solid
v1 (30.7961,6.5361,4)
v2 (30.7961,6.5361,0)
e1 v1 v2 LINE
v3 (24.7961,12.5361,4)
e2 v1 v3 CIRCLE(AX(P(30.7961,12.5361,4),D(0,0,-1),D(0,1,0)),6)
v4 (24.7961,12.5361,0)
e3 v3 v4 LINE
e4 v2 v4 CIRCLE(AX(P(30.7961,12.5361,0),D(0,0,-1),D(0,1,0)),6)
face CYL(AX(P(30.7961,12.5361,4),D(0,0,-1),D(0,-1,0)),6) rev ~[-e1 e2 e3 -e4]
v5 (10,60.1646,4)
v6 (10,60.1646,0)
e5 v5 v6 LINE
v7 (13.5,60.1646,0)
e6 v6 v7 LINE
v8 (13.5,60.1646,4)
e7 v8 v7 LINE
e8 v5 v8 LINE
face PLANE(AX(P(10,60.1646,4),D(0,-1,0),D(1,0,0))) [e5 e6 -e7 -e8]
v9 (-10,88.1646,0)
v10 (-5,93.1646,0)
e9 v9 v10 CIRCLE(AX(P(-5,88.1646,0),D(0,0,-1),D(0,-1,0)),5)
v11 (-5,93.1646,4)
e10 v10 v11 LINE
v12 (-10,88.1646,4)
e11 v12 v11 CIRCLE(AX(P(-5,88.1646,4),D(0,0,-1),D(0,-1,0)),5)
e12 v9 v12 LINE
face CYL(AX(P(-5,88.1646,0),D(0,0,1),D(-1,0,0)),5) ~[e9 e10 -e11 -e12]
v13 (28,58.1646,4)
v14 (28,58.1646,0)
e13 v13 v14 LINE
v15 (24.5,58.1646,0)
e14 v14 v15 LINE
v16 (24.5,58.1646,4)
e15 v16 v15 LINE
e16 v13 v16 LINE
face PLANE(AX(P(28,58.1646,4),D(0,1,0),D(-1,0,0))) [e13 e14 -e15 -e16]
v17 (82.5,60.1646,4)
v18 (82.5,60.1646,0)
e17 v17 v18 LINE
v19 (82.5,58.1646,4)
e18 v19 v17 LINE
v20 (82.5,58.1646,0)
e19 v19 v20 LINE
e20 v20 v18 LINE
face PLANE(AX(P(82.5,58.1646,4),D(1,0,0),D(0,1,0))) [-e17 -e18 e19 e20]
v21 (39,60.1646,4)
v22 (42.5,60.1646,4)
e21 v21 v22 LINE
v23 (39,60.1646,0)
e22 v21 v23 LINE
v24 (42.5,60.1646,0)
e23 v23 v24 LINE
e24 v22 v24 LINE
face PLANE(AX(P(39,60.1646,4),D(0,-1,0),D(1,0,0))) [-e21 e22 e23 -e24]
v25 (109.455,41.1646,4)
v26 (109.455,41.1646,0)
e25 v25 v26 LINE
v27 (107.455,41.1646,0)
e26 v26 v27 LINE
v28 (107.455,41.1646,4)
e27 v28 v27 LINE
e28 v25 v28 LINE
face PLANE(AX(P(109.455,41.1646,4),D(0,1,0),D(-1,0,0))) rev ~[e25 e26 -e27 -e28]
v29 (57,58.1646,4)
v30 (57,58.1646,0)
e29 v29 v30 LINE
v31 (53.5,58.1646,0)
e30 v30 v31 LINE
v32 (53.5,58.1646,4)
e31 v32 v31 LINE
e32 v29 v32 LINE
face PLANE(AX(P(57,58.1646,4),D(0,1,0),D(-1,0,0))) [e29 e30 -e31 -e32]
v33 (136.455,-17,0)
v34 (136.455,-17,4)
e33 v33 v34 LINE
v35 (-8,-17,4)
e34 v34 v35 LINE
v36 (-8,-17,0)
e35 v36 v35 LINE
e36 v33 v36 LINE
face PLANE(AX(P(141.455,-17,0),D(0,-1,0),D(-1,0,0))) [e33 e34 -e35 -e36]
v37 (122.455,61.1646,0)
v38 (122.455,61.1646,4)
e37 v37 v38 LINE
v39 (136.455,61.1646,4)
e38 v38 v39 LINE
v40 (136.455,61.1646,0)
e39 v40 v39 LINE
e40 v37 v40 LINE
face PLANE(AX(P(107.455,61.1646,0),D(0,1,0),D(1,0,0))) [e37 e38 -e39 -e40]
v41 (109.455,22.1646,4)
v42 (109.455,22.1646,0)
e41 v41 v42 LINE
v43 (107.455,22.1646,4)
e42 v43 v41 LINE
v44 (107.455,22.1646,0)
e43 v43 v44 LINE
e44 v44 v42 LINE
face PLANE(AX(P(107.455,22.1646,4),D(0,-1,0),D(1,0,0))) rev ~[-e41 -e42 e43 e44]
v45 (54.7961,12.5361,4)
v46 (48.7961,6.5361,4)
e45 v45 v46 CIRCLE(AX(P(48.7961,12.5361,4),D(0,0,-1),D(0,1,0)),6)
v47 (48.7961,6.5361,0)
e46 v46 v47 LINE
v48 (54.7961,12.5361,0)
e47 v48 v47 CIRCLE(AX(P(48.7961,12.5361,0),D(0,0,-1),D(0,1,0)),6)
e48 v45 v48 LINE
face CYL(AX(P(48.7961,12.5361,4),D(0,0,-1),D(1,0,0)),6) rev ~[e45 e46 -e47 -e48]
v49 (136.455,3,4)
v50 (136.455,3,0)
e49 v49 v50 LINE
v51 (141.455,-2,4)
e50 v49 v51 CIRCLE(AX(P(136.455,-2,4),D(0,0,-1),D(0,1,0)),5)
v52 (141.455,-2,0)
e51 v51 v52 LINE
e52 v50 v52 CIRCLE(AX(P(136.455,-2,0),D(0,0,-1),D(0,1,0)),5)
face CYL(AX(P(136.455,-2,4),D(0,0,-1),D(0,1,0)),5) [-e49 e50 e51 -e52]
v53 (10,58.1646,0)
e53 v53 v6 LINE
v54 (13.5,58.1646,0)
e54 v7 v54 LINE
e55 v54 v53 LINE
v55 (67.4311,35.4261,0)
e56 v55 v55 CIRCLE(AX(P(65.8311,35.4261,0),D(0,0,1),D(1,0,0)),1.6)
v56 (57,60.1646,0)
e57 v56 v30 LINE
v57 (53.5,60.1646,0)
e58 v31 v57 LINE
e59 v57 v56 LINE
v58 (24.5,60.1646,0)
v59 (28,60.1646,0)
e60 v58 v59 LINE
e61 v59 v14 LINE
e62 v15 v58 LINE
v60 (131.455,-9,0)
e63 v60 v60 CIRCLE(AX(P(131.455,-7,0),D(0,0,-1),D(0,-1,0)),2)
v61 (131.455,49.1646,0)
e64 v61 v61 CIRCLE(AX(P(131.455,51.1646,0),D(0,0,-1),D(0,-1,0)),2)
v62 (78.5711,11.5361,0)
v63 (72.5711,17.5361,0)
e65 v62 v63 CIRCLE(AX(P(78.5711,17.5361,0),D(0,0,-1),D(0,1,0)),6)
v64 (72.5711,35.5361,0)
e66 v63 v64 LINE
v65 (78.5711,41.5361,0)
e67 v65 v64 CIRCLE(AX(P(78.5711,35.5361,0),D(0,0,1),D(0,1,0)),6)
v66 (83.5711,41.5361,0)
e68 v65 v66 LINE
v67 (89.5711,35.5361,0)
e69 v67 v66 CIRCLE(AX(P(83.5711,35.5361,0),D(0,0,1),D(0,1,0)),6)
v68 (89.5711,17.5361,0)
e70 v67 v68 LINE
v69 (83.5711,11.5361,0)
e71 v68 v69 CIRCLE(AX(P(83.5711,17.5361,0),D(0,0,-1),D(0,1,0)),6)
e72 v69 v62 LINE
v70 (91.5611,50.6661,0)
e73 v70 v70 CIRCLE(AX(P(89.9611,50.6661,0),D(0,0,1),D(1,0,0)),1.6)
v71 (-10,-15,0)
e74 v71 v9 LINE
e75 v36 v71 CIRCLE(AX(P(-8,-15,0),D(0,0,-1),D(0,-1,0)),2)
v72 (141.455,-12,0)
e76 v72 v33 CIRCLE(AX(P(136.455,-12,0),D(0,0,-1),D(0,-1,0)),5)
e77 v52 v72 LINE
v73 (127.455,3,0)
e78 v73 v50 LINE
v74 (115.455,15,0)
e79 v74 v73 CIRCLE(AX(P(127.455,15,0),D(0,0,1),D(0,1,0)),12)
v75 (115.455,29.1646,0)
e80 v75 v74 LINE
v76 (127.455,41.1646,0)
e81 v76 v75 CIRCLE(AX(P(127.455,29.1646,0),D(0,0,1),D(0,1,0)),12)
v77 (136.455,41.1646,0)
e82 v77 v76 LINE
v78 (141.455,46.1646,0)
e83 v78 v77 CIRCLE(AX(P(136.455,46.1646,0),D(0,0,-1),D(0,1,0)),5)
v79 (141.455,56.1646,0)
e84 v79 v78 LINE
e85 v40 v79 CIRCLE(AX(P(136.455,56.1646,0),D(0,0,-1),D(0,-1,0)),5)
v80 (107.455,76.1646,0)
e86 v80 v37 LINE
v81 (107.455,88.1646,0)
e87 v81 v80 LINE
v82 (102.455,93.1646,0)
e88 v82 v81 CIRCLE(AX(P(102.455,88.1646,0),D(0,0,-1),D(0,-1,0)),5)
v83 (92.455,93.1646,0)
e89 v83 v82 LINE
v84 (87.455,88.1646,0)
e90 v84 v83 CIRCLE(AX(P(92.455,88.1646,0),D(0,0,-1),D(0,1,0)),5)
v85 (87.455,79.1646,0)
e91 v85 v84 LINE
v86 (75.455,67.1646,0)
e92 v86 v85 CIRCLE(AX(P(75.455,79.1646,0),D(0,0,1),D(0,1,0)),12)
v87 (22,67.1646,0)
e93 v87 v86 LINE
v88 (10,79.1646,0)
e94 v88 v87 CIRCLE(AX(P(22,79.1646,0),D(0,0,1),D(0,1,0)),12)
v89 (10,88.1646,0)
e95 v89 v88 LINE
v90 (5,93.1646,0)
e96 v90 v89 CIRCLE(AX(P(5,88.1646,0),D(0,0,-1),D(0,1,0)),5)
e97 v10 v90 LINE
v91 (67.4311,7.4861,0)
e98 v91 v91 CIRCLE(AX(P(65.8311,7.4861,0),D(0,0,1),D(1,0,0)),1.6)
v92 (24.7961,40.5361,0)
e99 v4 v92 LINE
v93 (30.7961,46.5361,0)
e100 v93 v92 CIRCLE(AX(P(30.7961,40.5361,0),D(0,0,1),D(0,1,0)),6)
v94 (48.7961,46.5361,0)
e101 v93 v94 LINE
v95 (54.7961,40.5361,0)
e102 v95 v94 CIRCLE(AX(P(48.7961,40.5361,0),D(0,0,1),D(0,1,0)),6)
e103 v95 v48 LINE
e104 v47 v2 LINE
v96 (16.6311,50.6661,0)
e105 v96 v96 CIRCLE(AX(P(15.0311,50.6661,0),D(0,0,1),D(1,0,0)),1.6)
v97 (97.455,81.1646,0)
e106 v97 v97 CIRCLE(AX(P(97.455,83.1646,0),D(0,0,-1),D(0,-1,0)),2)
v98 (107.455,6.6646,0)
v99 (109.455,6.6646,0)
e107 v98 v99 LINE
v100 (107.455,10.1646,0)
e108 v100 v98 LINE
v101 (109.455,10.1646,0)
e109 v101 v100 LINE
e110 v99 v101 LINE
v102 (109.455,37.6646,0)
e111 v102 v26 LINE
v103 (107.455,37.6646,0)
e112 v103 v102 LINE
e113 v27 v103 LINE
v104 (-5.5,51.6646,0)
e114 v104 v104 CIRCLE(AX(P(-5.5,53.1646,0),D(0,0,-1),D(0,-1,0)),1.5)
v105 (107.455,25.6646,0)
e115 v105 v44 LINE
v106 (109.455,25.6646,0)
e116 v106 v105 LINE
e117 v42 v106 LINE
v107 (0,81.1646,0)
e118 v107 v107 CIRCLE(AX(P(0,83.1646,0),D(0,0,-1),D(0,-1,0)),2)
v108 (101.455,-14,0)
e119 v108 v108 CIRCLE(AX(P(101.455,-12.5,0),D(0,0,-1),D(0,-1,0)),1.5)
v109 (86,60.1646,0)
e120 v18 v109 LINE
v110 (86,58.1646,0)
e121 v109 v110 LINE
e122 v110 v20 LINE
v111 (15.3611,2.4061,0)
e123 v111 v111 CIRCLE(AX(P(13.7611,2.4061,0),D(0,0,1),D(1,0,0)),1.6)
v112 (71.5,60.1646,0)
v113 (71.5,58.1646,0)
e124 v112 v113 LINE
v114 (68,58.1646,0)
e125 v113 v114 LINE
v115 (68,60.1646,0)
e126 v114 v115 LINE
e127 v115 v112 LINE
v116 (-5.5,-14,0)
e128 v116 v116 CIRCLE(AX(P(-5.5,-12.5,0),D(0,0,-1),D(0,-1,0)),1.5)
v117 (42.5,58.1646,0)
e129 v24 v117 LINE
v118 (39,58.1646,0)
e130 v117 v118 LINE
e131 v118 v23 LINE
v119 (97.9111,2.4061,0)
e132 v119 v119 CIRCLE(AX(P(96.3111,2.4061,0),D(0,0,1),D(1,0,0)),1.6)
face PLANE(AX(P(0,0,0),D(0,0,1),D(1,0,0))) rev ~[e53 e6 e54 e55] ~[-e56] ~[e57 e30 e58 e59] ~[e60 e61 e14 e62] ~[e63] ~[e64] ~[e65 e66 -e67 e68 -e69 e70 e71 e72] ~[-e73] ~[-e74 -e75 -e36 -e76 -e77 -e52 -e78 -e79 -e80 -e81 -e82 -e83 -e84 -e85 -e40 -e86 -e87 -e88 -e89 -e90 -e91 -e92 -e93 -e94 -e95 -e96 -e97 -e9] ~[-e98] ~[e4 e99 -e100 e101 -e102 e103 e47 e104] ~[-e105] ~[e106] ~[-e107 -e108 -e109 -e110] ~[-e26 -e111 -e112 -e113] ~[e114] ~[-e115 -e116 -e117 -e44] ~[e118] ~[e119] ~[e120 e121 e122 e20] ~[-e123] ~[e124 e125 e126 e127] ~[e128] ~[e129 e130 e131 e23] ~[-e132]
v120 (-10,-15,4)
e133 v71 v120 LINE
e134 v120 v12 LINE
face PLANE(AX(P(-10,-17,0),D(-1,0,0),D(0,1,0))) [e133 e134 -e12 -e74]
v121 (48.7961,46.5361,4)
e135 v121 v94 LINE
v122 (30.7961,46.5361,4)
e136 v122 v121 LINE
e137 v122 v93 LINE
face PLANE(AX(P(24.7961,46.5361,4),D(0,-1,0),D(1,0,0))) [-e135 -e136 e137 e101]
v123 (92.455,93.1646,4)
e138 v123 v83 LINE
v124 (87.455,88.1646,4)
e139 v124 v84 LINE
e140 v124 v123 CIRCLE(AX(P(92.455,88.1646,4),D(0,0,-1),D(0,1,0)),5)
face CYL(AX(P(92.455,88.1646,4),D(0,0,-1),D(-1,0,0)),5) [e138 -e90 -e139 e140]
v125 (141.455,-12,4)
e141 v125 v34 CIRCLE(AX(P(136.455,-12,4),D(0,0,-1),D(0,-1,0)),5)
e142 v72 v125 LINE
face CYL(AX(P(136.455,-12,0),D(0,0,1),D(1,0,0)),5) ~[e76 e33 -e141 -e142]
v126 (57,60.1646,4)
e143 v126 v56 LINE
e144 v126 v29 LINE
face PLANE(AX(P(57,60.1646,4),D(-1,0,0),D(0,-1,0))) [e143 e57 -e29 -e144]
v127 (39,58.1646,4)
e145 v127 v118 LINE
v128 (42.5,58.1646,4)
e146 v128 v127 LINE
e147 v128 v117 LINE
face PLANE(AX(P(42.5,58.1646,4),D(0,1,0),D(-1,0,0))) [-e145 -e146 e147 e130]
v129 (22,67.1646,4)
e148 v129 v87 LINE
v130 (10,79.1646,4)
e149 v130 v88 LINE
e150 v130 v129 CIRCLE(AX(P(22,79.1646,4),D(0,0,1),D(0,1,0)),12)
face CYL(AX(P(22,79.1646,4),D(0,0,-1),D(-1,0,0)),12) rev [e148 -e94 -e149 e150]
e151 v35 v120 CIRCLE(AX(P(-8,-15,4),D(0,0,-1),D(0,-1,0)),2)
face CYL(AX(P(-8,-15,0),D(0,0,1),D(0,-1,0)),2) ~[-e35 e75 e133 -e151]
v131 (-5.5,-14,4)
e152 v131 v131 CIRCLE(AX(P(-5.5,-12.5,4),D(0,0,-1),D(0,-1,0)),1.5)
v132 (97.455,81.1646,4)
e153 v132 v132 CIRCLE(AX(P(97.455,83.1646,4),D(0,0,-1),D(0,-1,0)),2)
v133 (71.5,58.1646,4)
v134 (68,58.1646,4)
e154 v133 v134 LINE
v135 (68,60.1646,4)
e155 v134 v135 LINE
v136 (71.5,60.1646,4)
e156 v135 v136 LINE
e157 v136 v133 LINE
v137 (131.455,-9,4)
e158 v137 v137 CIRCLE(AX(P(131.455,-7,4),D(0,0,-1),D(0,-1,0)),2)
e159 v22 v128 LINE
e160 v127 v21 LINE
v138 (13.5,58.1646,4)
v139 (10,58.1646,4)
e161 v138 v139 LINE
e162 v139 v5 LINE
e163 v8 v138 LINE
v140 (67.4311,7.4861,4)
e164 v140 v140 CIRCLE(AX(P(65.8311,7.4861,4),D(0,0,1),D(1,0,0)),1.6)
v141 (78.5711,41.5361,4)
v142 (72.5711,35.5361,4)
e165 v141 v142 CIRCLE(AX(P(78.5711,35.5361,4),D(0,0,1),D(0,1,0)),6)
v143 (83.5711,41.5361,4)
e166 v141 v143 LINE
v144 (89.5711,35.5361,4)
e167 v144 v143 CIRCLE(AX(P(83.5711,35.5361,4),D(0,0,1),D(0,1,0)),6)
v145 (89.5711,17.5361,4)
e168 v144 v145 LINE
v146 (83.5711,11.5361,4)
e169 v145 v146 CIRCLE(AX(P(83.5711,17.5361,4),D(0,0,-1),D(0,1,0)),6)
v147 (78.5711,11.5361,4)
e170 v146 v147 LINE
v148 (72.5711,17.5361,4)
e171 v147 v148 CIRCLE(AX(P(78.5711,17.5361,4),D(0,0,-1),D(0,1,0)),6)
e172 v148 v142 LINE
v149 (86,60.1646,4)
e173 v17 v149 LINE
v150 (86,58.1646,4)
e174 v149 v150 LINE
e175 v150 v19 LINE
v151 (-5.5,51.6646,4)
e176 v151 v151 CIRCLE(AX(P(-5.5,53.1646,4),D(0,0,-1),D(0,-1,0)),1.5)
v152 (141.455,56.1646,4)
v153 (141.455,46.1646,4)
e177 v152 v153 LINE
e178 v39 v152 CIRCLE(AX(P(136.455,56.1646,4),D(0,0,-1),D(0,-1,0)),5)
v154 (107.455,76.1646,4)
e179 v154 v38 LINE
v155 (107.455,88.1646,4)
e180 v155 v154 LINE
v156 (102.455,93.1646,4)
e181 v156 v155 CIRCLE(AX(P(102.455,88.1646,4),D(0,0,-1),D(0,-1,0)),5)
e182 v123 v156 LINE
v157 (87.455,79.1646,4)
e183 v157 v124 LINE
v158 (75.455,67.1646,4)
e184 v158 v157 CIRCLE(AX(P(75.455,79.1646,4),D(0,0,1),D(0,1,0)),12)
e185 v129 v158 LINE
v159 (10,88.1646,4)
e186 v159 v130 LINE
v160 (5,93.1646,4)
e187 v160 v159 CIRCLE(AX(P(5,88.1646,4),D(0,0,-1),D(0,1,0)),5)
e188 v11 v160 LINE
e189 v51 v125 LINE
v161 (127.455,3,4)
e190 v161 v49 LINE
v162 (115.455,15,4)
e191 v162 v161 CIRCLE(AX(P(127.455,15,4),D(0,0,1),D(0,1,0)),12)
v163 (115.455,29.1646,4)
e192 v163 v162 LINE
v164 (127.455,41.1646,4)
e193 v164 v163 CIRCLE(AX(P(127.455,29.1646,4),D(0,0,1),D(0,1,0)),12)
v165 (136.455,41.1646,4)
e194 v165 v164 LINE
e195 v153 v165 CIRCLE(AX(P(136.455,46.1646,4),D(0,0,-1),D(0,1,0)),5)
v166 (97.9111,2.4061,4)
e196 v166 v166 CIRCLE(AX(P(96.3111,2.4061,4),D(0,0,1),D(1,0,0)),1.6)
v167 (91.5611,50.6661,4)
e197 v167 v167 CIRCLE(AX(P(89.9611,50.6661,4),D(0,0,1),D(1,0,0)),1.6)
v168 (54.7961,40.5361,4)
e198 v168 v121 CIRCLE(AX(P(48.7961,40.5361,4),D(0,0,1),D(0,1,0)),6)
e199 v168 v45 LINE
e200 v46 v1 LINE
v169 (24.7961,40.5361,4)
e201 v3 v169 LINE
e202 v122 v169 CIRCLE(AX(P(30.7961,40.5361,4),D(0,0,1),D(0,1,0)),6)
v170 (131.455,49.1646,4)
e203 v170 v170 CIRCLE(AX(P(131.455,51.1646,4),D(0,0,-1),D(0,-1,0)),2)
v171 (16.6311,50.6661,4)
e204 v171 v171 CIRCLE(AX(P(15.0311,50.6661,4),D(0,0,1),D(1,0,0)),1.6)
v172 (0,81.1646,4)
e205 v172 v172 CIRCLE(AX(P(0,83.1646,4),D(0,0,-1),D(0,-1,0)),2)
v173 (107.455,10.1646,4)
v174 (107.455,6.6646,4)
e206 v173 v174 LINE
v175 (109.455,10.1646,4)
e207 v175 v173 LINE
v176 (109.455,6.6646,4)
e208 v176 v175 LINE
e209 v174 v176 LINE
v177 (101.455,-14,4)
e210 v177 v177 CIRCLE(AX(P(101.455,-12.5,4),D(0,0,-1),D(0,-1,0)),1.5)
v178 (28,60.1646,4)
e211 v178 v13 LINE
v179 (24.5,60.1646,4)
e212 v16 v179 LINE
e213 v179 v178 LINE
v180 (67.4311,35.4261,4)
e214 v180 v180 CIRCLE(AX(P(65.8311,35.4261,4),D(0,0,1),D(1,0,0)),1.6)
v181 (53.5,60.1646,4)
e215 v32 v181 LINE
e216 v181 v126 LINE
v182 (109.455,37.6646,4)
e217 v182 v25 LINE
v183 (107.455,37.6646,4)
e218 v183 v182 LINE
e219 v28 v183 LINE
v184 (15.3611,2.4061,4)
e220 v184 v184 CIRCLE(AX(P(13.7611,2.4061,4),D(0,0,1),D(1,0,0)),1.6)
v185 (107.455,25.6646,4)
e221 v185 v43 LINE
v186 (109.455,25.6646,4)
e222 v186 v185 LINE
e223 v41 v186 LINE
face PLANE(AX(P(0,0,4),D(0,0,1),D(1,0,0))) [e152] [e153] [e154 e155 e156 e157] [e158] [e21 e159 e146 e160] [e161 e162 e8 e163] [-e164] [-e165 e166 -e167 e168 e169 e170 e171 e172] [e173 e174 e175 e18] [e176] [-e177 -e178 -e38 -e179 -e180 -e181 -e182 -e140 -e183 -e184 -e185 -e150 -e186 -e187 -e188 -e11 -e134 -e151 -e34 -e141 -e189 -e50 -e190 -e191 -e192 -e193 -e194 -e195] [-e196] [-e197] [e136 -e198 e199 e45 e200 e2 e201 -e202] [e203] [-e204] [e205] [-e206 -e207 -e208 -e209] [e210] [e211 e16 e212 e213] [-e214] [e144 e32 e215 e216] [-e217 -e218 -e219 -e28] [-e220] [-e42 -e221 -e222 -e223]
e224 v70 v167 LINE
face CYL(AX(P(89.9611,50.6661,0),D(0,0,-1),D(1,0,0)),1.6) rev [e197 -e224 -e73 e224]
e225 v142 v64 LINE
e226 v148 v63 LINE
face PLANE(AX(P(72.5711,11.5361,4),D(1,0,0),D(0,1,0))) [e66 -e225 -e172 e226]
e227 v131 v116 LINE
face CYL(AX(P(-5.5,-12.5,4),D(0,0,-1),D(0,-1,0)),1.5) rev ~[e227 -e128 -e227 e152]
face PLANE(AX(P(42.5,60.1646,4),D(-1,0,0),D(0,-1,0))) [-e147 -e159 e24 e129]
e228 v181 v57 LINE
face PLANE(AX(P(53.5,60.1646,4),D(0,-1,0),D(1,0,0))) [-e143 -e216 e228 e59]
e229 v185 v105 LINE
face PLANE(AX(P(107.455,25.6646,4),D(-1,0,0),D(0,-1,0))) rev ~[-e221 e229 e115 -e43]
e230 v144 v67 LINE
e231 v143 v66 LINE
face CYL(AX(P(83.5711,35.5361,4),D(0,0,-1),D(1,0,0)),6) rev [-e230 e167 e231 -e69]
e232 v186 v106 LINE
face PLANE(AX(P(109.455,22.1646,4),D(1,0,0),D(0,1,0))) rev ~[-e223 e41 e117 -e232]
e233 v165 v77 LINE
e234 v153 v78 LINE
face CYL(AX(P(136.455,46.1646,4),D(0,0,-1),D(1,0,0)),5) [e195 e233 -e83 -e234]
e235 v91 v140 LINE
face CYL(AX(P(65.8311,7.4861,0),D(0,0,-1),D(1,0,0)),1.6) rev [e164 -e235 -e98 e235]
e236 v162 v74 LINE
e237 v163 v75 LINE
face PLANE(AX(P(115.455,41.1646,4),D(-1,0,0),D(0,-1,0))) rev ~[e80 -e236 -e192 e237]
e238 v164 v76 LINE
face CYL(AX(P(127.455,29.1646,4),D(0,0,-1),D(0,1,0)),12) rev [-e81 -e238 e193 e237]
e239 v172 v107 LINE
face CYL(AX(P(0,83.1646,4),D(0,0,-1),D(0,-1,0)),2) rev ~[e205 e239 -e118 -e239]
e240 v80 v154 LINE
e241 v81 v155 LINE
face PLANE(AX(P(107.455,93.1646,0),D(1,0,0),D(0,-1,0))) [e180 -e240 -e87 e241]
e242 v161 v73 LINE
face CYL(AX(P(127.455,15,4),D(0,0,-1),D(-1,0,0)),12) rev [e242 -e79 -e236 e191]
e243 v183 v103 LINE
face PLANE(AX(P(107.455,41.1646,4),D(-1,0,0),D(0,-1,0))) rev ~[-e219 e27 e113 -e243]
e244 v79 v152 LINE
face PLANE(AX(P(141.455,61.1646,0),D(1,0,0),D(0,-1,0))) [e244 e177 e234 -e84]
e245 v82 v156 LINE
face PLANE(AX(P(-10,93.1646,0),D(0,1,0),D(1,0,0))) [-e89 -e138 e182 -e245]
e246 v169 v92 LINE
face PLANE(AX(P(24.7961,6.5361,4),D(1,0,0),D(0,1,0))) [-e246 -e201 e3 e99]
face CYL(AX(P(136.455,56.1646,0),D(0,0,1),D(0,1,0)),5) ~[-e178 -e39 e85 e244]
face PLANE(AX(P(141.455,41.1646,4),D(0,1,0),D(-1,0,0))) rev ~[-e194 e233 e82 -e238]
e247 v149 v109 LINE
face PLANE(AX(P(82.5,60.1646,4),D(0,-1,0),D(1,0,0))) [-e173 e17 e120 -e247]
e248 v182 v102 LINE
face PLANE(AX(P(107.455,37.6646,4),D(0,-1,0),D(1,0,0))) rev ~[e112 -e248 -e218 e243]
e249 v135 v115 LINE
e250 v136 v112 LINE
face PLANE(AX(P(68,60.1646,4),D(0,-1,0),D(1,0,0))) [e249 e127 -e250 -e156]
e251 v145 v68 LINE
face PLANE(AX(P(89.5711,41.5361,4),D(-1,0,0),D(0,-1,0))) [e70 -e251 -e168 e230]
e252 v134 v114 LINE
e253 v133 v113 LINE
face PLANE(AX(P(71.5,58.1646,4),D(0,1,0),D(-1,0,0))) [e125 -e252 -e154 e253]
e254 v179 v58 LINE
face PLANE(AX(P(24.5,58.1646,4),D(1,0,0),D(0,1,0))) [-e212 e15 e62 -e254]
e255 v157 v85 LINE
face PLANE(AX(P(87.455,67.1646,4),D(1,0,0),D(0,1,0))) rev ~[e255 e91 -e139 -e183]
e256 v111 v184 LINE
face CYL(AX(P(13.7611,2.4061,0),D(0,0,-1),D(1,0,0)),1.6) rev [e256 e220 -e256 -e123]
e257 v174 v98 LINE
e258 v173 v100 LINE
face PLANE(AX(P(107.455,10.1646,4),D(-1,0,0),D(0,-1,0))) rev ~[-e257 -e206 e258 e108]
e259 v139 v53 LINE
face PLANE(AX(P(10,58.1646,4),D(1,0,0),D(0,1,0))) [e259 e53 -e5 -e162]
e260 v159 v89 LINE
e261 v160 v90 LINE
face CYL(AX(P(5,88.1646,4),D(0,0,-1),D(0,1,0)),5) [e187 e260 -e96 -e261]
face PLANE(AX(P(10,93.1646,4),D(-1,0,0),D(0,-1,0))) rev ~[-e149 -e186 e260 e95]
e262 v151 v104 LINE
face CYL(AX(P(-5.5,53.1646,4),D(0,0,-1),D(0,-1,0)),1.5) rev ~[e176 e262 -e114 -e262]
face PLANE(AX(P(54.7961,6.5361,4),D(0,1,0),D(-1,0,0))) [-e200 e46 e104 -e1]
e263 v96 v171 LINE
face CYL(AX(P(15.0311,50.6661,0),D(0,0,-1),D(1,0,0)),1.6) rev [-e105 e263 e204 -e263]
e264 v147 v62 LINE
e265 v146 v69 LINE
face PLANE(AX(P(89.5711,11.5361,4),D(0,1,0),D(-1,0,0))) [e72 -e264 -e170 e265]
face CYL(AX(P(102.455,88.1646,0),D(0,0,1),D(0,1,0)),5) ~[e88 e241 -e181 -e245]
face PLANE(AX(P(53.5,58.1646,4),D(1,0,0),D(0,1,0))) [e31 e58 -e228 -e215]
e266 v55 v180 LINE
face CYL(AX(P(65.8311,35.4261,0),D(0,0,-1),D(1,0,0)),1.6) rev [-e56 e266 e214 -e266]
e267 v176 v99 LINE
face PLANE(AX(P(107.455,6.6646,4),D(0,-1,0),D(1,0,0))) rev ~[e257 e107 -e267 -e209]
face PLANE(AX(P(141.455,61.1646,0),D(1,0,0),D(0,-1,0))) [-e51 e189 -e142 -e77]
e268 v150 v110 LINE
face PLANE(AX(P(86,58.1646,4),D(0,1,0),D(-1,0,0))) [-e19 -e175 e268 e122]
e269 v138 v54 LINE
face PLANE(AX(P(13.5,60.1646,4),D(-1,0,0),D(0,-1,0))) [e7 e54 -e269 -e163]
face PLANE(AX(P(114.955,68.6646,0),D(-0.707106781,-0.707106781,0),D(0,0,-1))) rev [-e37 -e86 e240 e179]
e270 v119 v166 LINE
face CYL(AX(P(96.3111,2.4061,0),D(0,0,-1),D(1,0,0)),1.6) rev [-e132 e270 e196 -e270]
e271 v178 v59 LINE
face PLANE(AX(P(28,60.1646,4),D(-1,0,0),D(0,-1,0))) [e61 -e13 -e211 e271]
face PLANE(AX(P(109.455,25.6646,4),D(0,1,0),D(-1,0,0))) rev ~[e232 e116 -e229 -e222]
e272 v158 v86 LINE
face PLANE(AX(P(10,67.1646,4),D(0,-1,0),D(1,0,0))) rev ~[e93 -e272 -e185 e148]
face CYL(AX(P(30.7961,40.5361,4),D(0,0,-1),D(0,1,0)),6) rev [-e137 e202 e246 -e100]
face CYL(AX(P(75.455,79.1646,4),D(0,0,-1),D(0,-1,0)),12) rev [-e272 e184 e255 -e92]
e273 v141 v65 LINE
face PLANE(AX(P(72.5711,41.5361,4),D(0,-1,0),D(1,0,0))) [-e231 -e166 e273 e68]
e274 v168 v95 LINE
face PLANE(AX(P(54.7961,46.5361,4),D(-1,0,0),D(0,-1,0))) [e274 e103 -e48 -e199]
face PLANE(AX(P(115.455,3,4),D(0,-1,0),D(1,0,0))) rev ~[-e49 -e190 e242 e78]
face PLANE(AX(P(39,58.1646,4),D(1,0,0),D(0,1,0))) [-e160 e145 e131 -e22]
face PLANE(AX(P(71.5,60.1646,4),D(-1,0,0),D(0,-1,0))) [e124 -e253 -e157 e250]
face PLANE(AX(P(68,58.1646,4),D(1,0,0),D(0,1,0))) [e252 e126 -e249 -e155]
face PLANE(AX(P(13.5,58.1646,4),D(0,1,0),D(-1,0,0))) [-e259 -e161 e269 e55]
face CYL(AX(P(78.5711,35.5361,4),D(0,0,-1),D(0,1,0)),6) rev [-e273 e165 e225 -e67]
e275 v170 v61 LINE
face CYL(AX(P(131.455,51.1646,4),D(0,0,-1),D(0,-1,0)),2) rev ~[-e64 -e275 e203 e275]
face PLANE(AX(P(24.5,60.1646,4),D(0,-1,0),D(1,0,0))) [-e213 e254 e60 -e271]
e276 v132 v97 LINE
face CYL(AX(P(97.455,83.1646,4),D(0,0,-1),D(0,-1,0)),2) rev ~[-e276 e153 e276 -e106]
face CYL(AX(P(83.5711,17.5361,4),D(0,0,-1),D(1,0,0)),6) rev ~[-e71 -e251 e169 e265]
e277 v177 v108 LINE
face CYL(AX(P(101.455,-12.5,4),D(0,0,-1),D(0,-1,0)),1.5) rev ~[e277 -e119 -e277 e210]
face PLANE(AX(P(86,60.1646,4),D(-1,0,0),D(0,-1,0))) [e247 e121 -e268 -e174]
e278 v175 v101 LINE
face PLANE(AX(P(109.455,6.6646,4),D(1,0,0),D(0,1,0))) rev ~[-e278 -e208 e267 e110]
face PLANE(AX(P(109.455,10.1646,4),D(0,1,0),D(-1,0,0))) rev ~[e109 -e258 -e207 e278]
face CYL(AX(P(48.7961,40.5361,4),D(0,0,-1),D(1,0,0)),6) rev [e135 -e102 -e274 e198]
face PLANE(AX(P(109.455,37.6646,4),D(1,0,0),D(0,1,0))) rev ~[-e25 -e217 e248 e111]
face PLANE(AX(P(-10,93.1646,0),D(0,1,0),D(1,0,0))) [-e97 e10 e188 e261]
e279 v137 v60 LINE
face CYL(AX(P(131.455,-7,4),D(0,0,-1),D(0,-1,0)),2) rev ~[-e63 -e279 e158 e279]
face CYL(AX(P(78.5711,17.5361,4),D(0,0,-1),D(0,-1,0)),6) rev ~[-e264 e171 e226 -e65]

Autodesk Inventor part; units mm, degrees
ref_plane "YZ Plane" through (0, 0, 0) normal (1, 0, 0) x (0, 1, 0)
ref_plane "XZ Plane" through (0, 0, 0) normal (0, 1, 0) x (-1, 0, 0)
ref_plane "XY Plane" through (0, 0, 0) normal (0, 0, 1) x (1, 0, 0)
sketch "Szkic1" plane through (0, 0, 0) normal (0, 0, 1) x (1, 0, 0)
  line L0 (0, 53.1646) -> (0, 0)
  line L1 (0, 0) -> (98.9175, 0)
  line L2 (98.9175, 0) -> (98.9175, 1.2597)
  line L3 (98.9175, 1.2597) -> (101.455, 3.8466)
  line L4 (101.455, 3.8466) -> (101.455, 38.0126)
  line L5 (101.455, 38.0126) -> (98.9175, 40.5017)
  line L6 (98.9175, 40.5017) -> (98.9175, 50.7051)
  line L7 (98.9175, 50.7051) -> (96.4101, 53.1646)
  line L8 (96.4101, 53.1646) -> (0, 53.1646)
  circle A0 centre (96.3111, 2.4061) radius 1.6
  circle A1 centre (15.0311, 50.6661) radius 1.6
  circle A2 centre (89.9611, 50.6661) radius 1.6
  circle A3 centre (13.7611, 2.4061) radius 1.6
  circle A4 centre (65.8311, 35.4261) radius 1.6
  circle A5 centre (65.8311, 7.4861) radius 1.6
  line L9 (-10, 93.1646) -> (141.455, 93.1646)
  line L10 (141.455, 93.1646) -> (141.455, -17)
  line L11 (141.455, -17) -> (-10, -17)
  line L12 (-10, -17) -> (-10, 93.1646)
  line L13 (107.455, 93.1646) -> (107.455, 61.1646)
  line L14 (107.455, 61.1646) -> (141.455, 61.1646)
  point P0 (-10, 13.9306)
  point P1 (7.9866, -17)
  dimension "d0" = 101.455
  dimension "d1" = 53.1646
  dimension "d2" = 98.9175
  dimension "d3" = 15.0311
  dimension "d4" = 2.4986
  dimension "d5" = 3.2
  dimension "d6" = 2.4986
  dimension "d7" = 8.9564
  dimension "d8" = 3.2
  dimension "d9" = 3.2
  dimension "d10" = 17.7386
  dimension "d11" = 65.8311
  dimension "d12" = 13.7611
  dimension "d13" = 2.4061
  dimension "d14" = 7.486
  dimension "d15" = 65.8311
  dimension "d16" = 2.4061
  dimension "d17" = 5.144
  dimension "d18" = 3.2
  dimension "d19" = 3.2
  dimension "d20" = 3.2
  dimension "d21" = 98.9175
  dimension "d22" = 1.2597
  dimension "d23" = 10.2034
  dimension "d24" = 34.166
  dimension "d33" = 40
  dimension "d34" = 40
  dimension "d35" = 17
  dimension "d36" = 10
  dimension "d37" = 34
  dimension "d38" = 32
extrude "Wyciągnięcie proste1" add sketch "Szkic1" along normal blind 4 contours L8 L7 L6 L5 L4 L3 L2 L1 L0 | L9 L13 L14 L10 L11 L12
chamfer "Faza1" distance 15 angle 45 1 edges at (107.455, 61.1646, 2)
sketch "Szkic2" plane through (0, 0, 4) normal (0, 0, 1) x (1, 0, 0)
  circle A0 centre (65.8311, 7.4861) radius 1.6 projected
  circle A1 centre (15.0311, 50.6661) radius 1.6 projected
  circle A2 centre (89.9611, 50.6661) radius 1.6 projected
  circle A3 centre (13.7611, 2.4061) radius 1.6 projected
  circle A4 centre (65.8311, 35.4261) radius 1.6 projected
  circle A5 centre (96.3111, 2.4061) radius 1.6 projected
  line L0 (-10, 93.1646) -> (-10, -17) projected
  line L1 (-10, -17) -> (141.455, -17) projected
  line L2 (141.455, -17) -> (141.455, 61.1646) projected
  line L3 (141.455, 61.1646) -> (122.455, 61.1646) projected
  line L4 (107.455, 76.1646) -> (122.455, 61.1646) projected
  line L5 (107.455, 76.1646) -> (107.455, 93.1646) projected
  line L6 (107.455, 93.1646) -> (-10, 93.1646) projected
  line L7 (10, 93.1646) -> (10, 67.1646)
  line L8 (10, 67.1646) -> (87.455, 67.1646)
  line L9 (87.455, 67.1646) -> (87.455, 93.1646)
  line L10 (107.455, 93.1646) -> (-10, 93.1646) projected
  line L11 (141.455, -17) -> (141.455, 61.1646) projected
  line L12 (141.455, 41.1646) -> (115.455, 41.1646)
  line L13 (115.455, 41.1646) -> (115.455, 3)
  line L14 (115.455, 3) -> (141.455, 3)
  line L15 (10, 60.1646) -> (13.5, 60.1646)
  line L16 (13.5, 60.1646) -> (13.5, 58.1646)
  line L17 (13.5, 58.1646) -> (10, 58.1646)
  line L18 (10, 58.1646) -> (10, 60.1646)
  line L19 (28, 58.1646) -> (24.5, 58.1646)
  line L20 (28, 60.1646) -> (28, 58.1646)
  line L21 (24.5, 60.1646) -> (28, 60.1646)
  line L22 (24.5, 58.1646) -> (24.5, 60.1646)
  line L23 (42.5, 58.1646) -> (39, 58.1646)
  line L24 (42.5, 60.1646) -> (42.5, 58.1646)
  line L25 (39, 60.1646) -> (42.5, 60.1646)
  line L26 (39, 58.1646) -> (39, 60.1646)
  line L27 (57, 58.1646) -> (53.5, 58.1646)
  line L28 (57, 60.1646) -> (57, 58.1646)
  line L29 (53.5, 60.1646) -> (57, 60.1646)
  line L30 (53.5, 58.1646) -> (53.5, 60.1646)
  line L31 (71.5, 58.1646) -> (68, 58.1646)
  line L32 (71.5, 60.1646) -> (71.5, 58.1646)
  line L33 (68, 60.1646) -> (71.5, 60.1646)
  line L34 (68, 58.1646) -> (68, 60.1646)
  line L35 (86, 58.1646) -> (82.5, 58.1646)
  line L36 (86, 60.1646) -> (86, 58.1646)
  line L37 (82.5, 60.1646) -> (86, 60.1646)
  line L38 (82.5, 58.1646) -> (82.5, 60.1646)
  line L39 (109.455, 41.1646) -> (107.455, 41.1646)
  line L40 (107.455, 41.1646) -> (107.455, 37.6646)
  line L41 (107.455, 37.6646) -> (109.455, 37.6646)
  line L42 (109.455, 37.6646) -> (109.455, 41.1646)
  line L43 (107.455, 25.6646) -> (107.455, 22.1646)
  line L44 (107.455, 22.1646) -> (109.455, 22.1646)
  line L45 (109.455, 22.1646) -> (109.455, 25.6646)
  line L46 (109.455, 25.6646) -> (107.455, 25.6646)
  line L47 (107.455, 10.1646) -> (107.455, 6.6646)
  line L48 (107.455, 6.6646) -> (109.455, 6.6646)
  line L49 (109.455, 6.6646) -> (109.455, 10.1646)
  line L50 (109.455, 10.1646) -> (107.455, 10.1646)
  line L51 (54.7961, 6.5361) -> (24.7961, 6.5361)
  line L52 (24.7961, 6.5361) -> (24.7961, 46.5361)
  line L53 (24.7961, 46.5361) -> (54.7961, 46.5361)
  line L54 (54.7961, 46.5361) -> (54.7961, 6.5361)
  line L55 (89.5711, 11.5361) -> (72.5711, 11.5361)
  line L56 (72.5711, 11.5361) -> (72.5711, 41.5361)
  line L57 (72.5711, 41.5361) -> (89.5711, 41.5361)
  line L58 (89.5711, 41.5361) -> (89.5711, 11.5361)
  point P0 (0, 0)
  point P1 (131.455, -7)
  point P2 (131.455, 51.1646)
  point P3 (97.455, 83.1646)
  point P4 (0, 83.1646)
  dimension "d42" = 20
  dimension "d43" = 20
  dimension "d44" = 20
  dimension "d45" = 20
  dimension "d46" = 26
  dimension "d47" = 26
  dimension "d50" = 3.5
  dimension "d51" = 2
  dimension "d52" = 7
  dimension "d55" = 14.5
  dimension "d62" = 2
  dimension "d63" = 3.5
  dimension "d64" = 6
  dimension "d67" = 15.5
  dimension "d74" = 40
  dimension "d75" = 30
  dimension "d78" = 10
  dimension "d79" = 10
  dimension "d80" = 10
  dimension "d81" = 10
  dimension "d82" = 10
  dimension "d83" = 10
  dimension "d84" = 10
  dimension "d85" = 10
  dimension "d93" = 52.07
  dimension "d94" = 11.035
  dimension "d95" = 48.26
  dimension "d96" = 4.13
  dimension "d98" = 30
  dimension "d99" = 17
  dimension "d100" = 48.26
  dimension "d101" = 30.48
  dimension "d102" = 9.13
  dimension "d103" = 6.74
extrude "Wyciągnięcie proste3" cut sketch "Szkic2" against normal through all contours L6 L9 L8 L7 | L14 L13 L12 L2 | L15 L16 L17 L18 | L19 L22 L21 L20 | L23 L26 L25 L24 | L27 L30 L29 L28 | L31 L34 L33 L32 | L35 L38 L37 L36 | L42 L41 L40 L39 | L46 L45 L44 L43 | L50 L49 L48 L47 | L51 L52 L53 L54 | L55 L56 L57 L58
fillet "Zaokrąglenie1" radius 12 4 edges at (115.455, 41.1646, 2) (115.455, 3, 2) (87.455, 67.1646, 2) (10, 67.1646, 2)
fillet "Zaokrąglenie1" radius 5 8 edges at (10, 93.1646, 2) (-10, 93.1646, 2) (87.455, 93.1646, 2) (107.455, 93.1646, 2) (141.455, 61.1646, 2) (141.455, 41.1646, 2) (141.455, 3, 2) (141.455, -17, 2)
hole "Otwór1" at (131.455, -7, 4) at (131.455, 51.1646, 4) at (97.455, 83.1646, 4) at (0, 83.1646, 4) direction (0, 0, -1) diameter 4 end through all
fillet "Zaokrąglenie2" radius 6 8 edges at (24.7961, 6.5361, 2) (24.7961, 46.5361, 2) (54.7961, 46.5361, 2) (54.7961, 6.5361, 2) (89.5711, 11.5361, 2) (89.5711, 41.5361, 2) (72.5711, 41.5361, 2) (72.5711, 11.5361, 2)
fillet "Zaokrąglenie2" radius 2 1 edges at (-10, -17, 2)
sketch "Szkic4" plane through (0, 0, 4) normal (0, 0, 1) x (1, 0, 0)
  arc A0 (-10, -15) -> (-8, -17) centre (-8, -15) ccw projected
  line L0 (-8, -17) -> (136.455, -17) projected
  arc A1 (136.455, -17) -> (141.455, -12) centre (136.455, -12) ccw projected
  line L1 (141.455, -12) -> (141.455, -2) projected
  arc A2 (141.455, -2) -> (136.455, 3) centre (136.455, -2) ccw projected
  line L2 (136.455, 3) -> (127.455, 3) projected
  arc A3 (115.455, 15) -> (127.455, 3) centre (127.455, 15) ccw projected
  line L3 (115.455, 15) -> (115.455, 29.1646) projected
  arc A4 (127.455, 41.1646) -> (115.455, 29.1646) centre (127.455, 29.1646) ccw projected
  line L4 (127.455, 41.1646) -> (136.455, 41.1646) projected
  arc A5 (136.455, 41.1646) -> (141.455, 46.1646) centre (136.455, 46.1646) ccw projected
  line L5 (141.455, 46.1646) -> (141.455, 56.1646) projected
  arc A6 (141.455, 56.1646) -> (136.455, 61.1646) centre (136.455, 56.1646) ccw projected
  line L6 (136.455, 61.1646) -> (122.455, 61.1646) projected
  line L7 (107.455, 76.1646) -> (122.455, 61.1646) projected
  line L8 (107.455, 76.1646) -> (107.455, 88.1646) projected
  arc A7 (107.455, 88.1646) -> (102.455, 93.1646) centre (102.455, 88.1646) ccw projected
  line L9 (102.455, 93.1646) -> (92.455, 93.1646) projected
  arc A8 (92.455, 93.1646) -> (87.455, 88.1646) centre (92.455, 88.1646) ccw projected
  line L10 (87.455, 88.1646) -> (87.455, 79.1646) projected
  arc A9 (75.455, 67.1646) -> (87.455, 79.1646) centre (75.455, 79.1646) ccw projected
  line L11 (75.455, 67.1646) -> (22, 67.1646) projected
  arc A10 (10, 79.1646) -> (22, 67.1646) centre (22, 79.1646) ccw projected
  line L12 (10, 79.1646) -> (10, 88.1646) projected
  arc A11 (10, 88.1646) -> (5, 93.1646) centre (5, 88.1646) ccw projected
  line L13 (5, 93.1646) -> (-5, 93.1646) projected
  arc A12 (-5, 93.1646) -> (-10, 88.1646) centre (-5, 88.1646) ccw projected
  line L14 (-10, 88.1646) -> (-10, -15) projected
  circle A13 centre (97.455, 83.1646) radius 2 projected
  circle A14 centre (131.455, -7) radius 2 projected
  circle A15 centre (131.455, 51.1646) radius 2 projected
  circle A16 centre (0, 83.1646) radius 2 projected
  line L15 (89.5711, 35.5361) -> (89.5711, 17.5361) projected
  arc A17 (83.5711, 11.5361) -> (89.5711, 17.5361) centre (83.5711, 17.5361) ccw projected
  line L16 (83.5711, 11.5361) -> (78.5711, 11.5361) projected
  arc A18 (72.5711, 17.5361) -> (78.5711, 11.5361) centre (78.5711, 17.5361) ccw projected
  line L17 (72.5711, 17.5361) -> (72.5711, 35.5361) projected
  arc A19 (78.5711, 41.5361) -> (72.5711, 35.5361) centre (78.5711, 35.5361) ccw projected
  line L18 (78.5711, 41.5361) -> (83.5711, 41.5361) projected
  arc A20 (89.5711, 35.5361) -> (83.5711, 41.5361) centre (83.5711, 35.5361) ccw projected
  line L19 (107.455, 22.1646) -> (107.455, 25.6646) projected
  line L20 (107.455, 25.6646) -> (109.455, 25.6646) projected
  line L21 (109.455, 25.6646) -> (109.455, 22.1646) projected
  line L22 (109.455, 22.1646) -> (107.455, 22.1646) projected
  line L23 (82.5, 60.1646) -> (86, 60.1646) projected
  line L24 (86, 60.1646) -> (86, 58.1646) projected
  line L25 (86, 58.1646) -> (82.5, 58.1646) projected
  line L26 (82.5, 58.1646) -> (82.5, 60.1646) projected
  line L27 (53.5, 60.1646) -> (57, 60.1646) projected
  line L28 (57, 60.1646) -> (57, 58.1646) projected
  line L29 (57, 58.1646) -> (53.5, 58.1646) projected
  line L30 (53.5, 58.1646) -> (53.5, 60.1646) projected
  line L31 (24.5, 60.1646) -> (28, 60.1646) projected
  line L32 (28, 60.1646) -> (28, 58.1646) projected
  line L33 (28, 58.1646) -> (24.5, 58.1646) projected
  line L34 (24.5, 58.1646) -> (24.5, 60.1646) projected
  line L35 (10, 58.1646) -> (10, 60.1646) projected
  line L36 (10, 60.1646) -> (13.5, 60.1646) projected
  line L37 (13.5, 60.1646) -> (13.5, 58.1646) projected
  line L38 (13.5, 58.1646) -> (10, 58.1646) projected
  line L39 (39, 60.1646) -> (42.5, 60.1646) projected
  line L40 (42.5, 60.1646) -> (42.5, 58.1646) projected
  line L41 (42.5, 58.1646) -> (39, 58.1646) projected
  line L42 (39, 58.1646) -> (39, 60.1646) projected
  line L43 (68, 60.1646) -> (71.5, 60.1646) projected
  line L44 (71.5, 60.1646) -> (71.5, 58.1646) projected
  line L45 (71.5, 58.1646) -> (68, 58.1646) projected
  line L46 (68, 58.1646) -> (68, 60.1646) projected
  line L47 (107.455, 37.6646) -> (107.455, 41.1646) projected
  line L48 (107.455, 41.1646) -> (109.455, 41.1646) projected
  line L49 (109.455, 41.1646) -> (109.455, 37.6646) projected
  line L50 (109.455, 37.6646) -> (107.455, 37.6646) projected
  line L51 (107.455, 6.6646) -> (107.455, 10.1646) projected
  line L52 (107.455, 10.1646) -> (109.455, 10.1646) projected
  line L53 (109.455, 10.1646) -> (109.455, 6.6646) projected
  line L54 (109.455, 6.6646) -> (107.455, 6.6646) projected
  line L55 (54.7961, 40.5361) -> (54.7961, 12.5361) projected
  arc A21 (48.7961, 6.5361) -> (54.7961, 12.5361) centre (48.7961, 12.5361) ccw projected
  line L56 (48.7961, 6.5361) -> (30.7961, 6.5361) projected
  arc A22 (24.7961, 12.5361) -> (30.7961, 6.5361) centre (30.7961, 12.5361) ccw projected
  line L57 (24.7961, 12.5361) -> (24.7961, 40.5361) projected
  arc A23 (30.7961, 46.5361) -> (24.7961, 40.5361) centre (30.7961, 40.5361) ccw projected
  line L58 (30.7961, 46.5361) -> (48.7961, 46.5361) projected
  arc A24 (54.7961, 40.5361) -> (48.7961, 46.5361) centre (48.7961, 40.5361) ccw projected
  circle A25 centre (65.8311, 7.4861) radius 1.6 projected
  circle A26 centre (15.0311, 50.6661) radius 1.6 projected
  circle A27 centre (89.9611, 50.6661) radius 1.6 projected
  circle A28 centre (13.7611, 2.4061) radius 1.6 projected
  circle A29 centre (65.8311, 35.4261) radius 1.6 projected
  circle A30 centre (96.3111, 2.4061) radius 1.6 projected
  point P0 (0, 0)
  point P1 (-5.5, 53.1646)
  point P2 (-5.5, -12.5)
  point P3 (101.455, -12.5)
  dimension "d105" = 40
  dimension "d106" = 40
  dimension "d107" = 4.5
  dimension "d108" = 4.5
  dimension "d109" = 4.5
  dimension "d110" = 4.5
hole "Otwór2" at (-5.5, 53.1646, 4) at (-5.5, -12.5, 4) at (101.455, -12.5, 4) direction (0, 0, -1) diameter 3 end through all
equation "\"d47\" = d46"
equation "\"d94\" = -0.5 * d75 + 0.5 * d93"
equation "\"d96\" = -0.5 * d74 + 0.5 * d95"
equation "\"d102\" = -0.5 * d98 + 0.5 * d100"
equation "\"d103\" = -0.5 * d99 + 0.5 * d101"
equation "\"d106\" = d105"
equation "\"d107\" = d110"
equation "\"d108\" = d110"
equation "\"d109\" = d110"
properties part number "3DP_PLA_Controller_Case_Bottom"
